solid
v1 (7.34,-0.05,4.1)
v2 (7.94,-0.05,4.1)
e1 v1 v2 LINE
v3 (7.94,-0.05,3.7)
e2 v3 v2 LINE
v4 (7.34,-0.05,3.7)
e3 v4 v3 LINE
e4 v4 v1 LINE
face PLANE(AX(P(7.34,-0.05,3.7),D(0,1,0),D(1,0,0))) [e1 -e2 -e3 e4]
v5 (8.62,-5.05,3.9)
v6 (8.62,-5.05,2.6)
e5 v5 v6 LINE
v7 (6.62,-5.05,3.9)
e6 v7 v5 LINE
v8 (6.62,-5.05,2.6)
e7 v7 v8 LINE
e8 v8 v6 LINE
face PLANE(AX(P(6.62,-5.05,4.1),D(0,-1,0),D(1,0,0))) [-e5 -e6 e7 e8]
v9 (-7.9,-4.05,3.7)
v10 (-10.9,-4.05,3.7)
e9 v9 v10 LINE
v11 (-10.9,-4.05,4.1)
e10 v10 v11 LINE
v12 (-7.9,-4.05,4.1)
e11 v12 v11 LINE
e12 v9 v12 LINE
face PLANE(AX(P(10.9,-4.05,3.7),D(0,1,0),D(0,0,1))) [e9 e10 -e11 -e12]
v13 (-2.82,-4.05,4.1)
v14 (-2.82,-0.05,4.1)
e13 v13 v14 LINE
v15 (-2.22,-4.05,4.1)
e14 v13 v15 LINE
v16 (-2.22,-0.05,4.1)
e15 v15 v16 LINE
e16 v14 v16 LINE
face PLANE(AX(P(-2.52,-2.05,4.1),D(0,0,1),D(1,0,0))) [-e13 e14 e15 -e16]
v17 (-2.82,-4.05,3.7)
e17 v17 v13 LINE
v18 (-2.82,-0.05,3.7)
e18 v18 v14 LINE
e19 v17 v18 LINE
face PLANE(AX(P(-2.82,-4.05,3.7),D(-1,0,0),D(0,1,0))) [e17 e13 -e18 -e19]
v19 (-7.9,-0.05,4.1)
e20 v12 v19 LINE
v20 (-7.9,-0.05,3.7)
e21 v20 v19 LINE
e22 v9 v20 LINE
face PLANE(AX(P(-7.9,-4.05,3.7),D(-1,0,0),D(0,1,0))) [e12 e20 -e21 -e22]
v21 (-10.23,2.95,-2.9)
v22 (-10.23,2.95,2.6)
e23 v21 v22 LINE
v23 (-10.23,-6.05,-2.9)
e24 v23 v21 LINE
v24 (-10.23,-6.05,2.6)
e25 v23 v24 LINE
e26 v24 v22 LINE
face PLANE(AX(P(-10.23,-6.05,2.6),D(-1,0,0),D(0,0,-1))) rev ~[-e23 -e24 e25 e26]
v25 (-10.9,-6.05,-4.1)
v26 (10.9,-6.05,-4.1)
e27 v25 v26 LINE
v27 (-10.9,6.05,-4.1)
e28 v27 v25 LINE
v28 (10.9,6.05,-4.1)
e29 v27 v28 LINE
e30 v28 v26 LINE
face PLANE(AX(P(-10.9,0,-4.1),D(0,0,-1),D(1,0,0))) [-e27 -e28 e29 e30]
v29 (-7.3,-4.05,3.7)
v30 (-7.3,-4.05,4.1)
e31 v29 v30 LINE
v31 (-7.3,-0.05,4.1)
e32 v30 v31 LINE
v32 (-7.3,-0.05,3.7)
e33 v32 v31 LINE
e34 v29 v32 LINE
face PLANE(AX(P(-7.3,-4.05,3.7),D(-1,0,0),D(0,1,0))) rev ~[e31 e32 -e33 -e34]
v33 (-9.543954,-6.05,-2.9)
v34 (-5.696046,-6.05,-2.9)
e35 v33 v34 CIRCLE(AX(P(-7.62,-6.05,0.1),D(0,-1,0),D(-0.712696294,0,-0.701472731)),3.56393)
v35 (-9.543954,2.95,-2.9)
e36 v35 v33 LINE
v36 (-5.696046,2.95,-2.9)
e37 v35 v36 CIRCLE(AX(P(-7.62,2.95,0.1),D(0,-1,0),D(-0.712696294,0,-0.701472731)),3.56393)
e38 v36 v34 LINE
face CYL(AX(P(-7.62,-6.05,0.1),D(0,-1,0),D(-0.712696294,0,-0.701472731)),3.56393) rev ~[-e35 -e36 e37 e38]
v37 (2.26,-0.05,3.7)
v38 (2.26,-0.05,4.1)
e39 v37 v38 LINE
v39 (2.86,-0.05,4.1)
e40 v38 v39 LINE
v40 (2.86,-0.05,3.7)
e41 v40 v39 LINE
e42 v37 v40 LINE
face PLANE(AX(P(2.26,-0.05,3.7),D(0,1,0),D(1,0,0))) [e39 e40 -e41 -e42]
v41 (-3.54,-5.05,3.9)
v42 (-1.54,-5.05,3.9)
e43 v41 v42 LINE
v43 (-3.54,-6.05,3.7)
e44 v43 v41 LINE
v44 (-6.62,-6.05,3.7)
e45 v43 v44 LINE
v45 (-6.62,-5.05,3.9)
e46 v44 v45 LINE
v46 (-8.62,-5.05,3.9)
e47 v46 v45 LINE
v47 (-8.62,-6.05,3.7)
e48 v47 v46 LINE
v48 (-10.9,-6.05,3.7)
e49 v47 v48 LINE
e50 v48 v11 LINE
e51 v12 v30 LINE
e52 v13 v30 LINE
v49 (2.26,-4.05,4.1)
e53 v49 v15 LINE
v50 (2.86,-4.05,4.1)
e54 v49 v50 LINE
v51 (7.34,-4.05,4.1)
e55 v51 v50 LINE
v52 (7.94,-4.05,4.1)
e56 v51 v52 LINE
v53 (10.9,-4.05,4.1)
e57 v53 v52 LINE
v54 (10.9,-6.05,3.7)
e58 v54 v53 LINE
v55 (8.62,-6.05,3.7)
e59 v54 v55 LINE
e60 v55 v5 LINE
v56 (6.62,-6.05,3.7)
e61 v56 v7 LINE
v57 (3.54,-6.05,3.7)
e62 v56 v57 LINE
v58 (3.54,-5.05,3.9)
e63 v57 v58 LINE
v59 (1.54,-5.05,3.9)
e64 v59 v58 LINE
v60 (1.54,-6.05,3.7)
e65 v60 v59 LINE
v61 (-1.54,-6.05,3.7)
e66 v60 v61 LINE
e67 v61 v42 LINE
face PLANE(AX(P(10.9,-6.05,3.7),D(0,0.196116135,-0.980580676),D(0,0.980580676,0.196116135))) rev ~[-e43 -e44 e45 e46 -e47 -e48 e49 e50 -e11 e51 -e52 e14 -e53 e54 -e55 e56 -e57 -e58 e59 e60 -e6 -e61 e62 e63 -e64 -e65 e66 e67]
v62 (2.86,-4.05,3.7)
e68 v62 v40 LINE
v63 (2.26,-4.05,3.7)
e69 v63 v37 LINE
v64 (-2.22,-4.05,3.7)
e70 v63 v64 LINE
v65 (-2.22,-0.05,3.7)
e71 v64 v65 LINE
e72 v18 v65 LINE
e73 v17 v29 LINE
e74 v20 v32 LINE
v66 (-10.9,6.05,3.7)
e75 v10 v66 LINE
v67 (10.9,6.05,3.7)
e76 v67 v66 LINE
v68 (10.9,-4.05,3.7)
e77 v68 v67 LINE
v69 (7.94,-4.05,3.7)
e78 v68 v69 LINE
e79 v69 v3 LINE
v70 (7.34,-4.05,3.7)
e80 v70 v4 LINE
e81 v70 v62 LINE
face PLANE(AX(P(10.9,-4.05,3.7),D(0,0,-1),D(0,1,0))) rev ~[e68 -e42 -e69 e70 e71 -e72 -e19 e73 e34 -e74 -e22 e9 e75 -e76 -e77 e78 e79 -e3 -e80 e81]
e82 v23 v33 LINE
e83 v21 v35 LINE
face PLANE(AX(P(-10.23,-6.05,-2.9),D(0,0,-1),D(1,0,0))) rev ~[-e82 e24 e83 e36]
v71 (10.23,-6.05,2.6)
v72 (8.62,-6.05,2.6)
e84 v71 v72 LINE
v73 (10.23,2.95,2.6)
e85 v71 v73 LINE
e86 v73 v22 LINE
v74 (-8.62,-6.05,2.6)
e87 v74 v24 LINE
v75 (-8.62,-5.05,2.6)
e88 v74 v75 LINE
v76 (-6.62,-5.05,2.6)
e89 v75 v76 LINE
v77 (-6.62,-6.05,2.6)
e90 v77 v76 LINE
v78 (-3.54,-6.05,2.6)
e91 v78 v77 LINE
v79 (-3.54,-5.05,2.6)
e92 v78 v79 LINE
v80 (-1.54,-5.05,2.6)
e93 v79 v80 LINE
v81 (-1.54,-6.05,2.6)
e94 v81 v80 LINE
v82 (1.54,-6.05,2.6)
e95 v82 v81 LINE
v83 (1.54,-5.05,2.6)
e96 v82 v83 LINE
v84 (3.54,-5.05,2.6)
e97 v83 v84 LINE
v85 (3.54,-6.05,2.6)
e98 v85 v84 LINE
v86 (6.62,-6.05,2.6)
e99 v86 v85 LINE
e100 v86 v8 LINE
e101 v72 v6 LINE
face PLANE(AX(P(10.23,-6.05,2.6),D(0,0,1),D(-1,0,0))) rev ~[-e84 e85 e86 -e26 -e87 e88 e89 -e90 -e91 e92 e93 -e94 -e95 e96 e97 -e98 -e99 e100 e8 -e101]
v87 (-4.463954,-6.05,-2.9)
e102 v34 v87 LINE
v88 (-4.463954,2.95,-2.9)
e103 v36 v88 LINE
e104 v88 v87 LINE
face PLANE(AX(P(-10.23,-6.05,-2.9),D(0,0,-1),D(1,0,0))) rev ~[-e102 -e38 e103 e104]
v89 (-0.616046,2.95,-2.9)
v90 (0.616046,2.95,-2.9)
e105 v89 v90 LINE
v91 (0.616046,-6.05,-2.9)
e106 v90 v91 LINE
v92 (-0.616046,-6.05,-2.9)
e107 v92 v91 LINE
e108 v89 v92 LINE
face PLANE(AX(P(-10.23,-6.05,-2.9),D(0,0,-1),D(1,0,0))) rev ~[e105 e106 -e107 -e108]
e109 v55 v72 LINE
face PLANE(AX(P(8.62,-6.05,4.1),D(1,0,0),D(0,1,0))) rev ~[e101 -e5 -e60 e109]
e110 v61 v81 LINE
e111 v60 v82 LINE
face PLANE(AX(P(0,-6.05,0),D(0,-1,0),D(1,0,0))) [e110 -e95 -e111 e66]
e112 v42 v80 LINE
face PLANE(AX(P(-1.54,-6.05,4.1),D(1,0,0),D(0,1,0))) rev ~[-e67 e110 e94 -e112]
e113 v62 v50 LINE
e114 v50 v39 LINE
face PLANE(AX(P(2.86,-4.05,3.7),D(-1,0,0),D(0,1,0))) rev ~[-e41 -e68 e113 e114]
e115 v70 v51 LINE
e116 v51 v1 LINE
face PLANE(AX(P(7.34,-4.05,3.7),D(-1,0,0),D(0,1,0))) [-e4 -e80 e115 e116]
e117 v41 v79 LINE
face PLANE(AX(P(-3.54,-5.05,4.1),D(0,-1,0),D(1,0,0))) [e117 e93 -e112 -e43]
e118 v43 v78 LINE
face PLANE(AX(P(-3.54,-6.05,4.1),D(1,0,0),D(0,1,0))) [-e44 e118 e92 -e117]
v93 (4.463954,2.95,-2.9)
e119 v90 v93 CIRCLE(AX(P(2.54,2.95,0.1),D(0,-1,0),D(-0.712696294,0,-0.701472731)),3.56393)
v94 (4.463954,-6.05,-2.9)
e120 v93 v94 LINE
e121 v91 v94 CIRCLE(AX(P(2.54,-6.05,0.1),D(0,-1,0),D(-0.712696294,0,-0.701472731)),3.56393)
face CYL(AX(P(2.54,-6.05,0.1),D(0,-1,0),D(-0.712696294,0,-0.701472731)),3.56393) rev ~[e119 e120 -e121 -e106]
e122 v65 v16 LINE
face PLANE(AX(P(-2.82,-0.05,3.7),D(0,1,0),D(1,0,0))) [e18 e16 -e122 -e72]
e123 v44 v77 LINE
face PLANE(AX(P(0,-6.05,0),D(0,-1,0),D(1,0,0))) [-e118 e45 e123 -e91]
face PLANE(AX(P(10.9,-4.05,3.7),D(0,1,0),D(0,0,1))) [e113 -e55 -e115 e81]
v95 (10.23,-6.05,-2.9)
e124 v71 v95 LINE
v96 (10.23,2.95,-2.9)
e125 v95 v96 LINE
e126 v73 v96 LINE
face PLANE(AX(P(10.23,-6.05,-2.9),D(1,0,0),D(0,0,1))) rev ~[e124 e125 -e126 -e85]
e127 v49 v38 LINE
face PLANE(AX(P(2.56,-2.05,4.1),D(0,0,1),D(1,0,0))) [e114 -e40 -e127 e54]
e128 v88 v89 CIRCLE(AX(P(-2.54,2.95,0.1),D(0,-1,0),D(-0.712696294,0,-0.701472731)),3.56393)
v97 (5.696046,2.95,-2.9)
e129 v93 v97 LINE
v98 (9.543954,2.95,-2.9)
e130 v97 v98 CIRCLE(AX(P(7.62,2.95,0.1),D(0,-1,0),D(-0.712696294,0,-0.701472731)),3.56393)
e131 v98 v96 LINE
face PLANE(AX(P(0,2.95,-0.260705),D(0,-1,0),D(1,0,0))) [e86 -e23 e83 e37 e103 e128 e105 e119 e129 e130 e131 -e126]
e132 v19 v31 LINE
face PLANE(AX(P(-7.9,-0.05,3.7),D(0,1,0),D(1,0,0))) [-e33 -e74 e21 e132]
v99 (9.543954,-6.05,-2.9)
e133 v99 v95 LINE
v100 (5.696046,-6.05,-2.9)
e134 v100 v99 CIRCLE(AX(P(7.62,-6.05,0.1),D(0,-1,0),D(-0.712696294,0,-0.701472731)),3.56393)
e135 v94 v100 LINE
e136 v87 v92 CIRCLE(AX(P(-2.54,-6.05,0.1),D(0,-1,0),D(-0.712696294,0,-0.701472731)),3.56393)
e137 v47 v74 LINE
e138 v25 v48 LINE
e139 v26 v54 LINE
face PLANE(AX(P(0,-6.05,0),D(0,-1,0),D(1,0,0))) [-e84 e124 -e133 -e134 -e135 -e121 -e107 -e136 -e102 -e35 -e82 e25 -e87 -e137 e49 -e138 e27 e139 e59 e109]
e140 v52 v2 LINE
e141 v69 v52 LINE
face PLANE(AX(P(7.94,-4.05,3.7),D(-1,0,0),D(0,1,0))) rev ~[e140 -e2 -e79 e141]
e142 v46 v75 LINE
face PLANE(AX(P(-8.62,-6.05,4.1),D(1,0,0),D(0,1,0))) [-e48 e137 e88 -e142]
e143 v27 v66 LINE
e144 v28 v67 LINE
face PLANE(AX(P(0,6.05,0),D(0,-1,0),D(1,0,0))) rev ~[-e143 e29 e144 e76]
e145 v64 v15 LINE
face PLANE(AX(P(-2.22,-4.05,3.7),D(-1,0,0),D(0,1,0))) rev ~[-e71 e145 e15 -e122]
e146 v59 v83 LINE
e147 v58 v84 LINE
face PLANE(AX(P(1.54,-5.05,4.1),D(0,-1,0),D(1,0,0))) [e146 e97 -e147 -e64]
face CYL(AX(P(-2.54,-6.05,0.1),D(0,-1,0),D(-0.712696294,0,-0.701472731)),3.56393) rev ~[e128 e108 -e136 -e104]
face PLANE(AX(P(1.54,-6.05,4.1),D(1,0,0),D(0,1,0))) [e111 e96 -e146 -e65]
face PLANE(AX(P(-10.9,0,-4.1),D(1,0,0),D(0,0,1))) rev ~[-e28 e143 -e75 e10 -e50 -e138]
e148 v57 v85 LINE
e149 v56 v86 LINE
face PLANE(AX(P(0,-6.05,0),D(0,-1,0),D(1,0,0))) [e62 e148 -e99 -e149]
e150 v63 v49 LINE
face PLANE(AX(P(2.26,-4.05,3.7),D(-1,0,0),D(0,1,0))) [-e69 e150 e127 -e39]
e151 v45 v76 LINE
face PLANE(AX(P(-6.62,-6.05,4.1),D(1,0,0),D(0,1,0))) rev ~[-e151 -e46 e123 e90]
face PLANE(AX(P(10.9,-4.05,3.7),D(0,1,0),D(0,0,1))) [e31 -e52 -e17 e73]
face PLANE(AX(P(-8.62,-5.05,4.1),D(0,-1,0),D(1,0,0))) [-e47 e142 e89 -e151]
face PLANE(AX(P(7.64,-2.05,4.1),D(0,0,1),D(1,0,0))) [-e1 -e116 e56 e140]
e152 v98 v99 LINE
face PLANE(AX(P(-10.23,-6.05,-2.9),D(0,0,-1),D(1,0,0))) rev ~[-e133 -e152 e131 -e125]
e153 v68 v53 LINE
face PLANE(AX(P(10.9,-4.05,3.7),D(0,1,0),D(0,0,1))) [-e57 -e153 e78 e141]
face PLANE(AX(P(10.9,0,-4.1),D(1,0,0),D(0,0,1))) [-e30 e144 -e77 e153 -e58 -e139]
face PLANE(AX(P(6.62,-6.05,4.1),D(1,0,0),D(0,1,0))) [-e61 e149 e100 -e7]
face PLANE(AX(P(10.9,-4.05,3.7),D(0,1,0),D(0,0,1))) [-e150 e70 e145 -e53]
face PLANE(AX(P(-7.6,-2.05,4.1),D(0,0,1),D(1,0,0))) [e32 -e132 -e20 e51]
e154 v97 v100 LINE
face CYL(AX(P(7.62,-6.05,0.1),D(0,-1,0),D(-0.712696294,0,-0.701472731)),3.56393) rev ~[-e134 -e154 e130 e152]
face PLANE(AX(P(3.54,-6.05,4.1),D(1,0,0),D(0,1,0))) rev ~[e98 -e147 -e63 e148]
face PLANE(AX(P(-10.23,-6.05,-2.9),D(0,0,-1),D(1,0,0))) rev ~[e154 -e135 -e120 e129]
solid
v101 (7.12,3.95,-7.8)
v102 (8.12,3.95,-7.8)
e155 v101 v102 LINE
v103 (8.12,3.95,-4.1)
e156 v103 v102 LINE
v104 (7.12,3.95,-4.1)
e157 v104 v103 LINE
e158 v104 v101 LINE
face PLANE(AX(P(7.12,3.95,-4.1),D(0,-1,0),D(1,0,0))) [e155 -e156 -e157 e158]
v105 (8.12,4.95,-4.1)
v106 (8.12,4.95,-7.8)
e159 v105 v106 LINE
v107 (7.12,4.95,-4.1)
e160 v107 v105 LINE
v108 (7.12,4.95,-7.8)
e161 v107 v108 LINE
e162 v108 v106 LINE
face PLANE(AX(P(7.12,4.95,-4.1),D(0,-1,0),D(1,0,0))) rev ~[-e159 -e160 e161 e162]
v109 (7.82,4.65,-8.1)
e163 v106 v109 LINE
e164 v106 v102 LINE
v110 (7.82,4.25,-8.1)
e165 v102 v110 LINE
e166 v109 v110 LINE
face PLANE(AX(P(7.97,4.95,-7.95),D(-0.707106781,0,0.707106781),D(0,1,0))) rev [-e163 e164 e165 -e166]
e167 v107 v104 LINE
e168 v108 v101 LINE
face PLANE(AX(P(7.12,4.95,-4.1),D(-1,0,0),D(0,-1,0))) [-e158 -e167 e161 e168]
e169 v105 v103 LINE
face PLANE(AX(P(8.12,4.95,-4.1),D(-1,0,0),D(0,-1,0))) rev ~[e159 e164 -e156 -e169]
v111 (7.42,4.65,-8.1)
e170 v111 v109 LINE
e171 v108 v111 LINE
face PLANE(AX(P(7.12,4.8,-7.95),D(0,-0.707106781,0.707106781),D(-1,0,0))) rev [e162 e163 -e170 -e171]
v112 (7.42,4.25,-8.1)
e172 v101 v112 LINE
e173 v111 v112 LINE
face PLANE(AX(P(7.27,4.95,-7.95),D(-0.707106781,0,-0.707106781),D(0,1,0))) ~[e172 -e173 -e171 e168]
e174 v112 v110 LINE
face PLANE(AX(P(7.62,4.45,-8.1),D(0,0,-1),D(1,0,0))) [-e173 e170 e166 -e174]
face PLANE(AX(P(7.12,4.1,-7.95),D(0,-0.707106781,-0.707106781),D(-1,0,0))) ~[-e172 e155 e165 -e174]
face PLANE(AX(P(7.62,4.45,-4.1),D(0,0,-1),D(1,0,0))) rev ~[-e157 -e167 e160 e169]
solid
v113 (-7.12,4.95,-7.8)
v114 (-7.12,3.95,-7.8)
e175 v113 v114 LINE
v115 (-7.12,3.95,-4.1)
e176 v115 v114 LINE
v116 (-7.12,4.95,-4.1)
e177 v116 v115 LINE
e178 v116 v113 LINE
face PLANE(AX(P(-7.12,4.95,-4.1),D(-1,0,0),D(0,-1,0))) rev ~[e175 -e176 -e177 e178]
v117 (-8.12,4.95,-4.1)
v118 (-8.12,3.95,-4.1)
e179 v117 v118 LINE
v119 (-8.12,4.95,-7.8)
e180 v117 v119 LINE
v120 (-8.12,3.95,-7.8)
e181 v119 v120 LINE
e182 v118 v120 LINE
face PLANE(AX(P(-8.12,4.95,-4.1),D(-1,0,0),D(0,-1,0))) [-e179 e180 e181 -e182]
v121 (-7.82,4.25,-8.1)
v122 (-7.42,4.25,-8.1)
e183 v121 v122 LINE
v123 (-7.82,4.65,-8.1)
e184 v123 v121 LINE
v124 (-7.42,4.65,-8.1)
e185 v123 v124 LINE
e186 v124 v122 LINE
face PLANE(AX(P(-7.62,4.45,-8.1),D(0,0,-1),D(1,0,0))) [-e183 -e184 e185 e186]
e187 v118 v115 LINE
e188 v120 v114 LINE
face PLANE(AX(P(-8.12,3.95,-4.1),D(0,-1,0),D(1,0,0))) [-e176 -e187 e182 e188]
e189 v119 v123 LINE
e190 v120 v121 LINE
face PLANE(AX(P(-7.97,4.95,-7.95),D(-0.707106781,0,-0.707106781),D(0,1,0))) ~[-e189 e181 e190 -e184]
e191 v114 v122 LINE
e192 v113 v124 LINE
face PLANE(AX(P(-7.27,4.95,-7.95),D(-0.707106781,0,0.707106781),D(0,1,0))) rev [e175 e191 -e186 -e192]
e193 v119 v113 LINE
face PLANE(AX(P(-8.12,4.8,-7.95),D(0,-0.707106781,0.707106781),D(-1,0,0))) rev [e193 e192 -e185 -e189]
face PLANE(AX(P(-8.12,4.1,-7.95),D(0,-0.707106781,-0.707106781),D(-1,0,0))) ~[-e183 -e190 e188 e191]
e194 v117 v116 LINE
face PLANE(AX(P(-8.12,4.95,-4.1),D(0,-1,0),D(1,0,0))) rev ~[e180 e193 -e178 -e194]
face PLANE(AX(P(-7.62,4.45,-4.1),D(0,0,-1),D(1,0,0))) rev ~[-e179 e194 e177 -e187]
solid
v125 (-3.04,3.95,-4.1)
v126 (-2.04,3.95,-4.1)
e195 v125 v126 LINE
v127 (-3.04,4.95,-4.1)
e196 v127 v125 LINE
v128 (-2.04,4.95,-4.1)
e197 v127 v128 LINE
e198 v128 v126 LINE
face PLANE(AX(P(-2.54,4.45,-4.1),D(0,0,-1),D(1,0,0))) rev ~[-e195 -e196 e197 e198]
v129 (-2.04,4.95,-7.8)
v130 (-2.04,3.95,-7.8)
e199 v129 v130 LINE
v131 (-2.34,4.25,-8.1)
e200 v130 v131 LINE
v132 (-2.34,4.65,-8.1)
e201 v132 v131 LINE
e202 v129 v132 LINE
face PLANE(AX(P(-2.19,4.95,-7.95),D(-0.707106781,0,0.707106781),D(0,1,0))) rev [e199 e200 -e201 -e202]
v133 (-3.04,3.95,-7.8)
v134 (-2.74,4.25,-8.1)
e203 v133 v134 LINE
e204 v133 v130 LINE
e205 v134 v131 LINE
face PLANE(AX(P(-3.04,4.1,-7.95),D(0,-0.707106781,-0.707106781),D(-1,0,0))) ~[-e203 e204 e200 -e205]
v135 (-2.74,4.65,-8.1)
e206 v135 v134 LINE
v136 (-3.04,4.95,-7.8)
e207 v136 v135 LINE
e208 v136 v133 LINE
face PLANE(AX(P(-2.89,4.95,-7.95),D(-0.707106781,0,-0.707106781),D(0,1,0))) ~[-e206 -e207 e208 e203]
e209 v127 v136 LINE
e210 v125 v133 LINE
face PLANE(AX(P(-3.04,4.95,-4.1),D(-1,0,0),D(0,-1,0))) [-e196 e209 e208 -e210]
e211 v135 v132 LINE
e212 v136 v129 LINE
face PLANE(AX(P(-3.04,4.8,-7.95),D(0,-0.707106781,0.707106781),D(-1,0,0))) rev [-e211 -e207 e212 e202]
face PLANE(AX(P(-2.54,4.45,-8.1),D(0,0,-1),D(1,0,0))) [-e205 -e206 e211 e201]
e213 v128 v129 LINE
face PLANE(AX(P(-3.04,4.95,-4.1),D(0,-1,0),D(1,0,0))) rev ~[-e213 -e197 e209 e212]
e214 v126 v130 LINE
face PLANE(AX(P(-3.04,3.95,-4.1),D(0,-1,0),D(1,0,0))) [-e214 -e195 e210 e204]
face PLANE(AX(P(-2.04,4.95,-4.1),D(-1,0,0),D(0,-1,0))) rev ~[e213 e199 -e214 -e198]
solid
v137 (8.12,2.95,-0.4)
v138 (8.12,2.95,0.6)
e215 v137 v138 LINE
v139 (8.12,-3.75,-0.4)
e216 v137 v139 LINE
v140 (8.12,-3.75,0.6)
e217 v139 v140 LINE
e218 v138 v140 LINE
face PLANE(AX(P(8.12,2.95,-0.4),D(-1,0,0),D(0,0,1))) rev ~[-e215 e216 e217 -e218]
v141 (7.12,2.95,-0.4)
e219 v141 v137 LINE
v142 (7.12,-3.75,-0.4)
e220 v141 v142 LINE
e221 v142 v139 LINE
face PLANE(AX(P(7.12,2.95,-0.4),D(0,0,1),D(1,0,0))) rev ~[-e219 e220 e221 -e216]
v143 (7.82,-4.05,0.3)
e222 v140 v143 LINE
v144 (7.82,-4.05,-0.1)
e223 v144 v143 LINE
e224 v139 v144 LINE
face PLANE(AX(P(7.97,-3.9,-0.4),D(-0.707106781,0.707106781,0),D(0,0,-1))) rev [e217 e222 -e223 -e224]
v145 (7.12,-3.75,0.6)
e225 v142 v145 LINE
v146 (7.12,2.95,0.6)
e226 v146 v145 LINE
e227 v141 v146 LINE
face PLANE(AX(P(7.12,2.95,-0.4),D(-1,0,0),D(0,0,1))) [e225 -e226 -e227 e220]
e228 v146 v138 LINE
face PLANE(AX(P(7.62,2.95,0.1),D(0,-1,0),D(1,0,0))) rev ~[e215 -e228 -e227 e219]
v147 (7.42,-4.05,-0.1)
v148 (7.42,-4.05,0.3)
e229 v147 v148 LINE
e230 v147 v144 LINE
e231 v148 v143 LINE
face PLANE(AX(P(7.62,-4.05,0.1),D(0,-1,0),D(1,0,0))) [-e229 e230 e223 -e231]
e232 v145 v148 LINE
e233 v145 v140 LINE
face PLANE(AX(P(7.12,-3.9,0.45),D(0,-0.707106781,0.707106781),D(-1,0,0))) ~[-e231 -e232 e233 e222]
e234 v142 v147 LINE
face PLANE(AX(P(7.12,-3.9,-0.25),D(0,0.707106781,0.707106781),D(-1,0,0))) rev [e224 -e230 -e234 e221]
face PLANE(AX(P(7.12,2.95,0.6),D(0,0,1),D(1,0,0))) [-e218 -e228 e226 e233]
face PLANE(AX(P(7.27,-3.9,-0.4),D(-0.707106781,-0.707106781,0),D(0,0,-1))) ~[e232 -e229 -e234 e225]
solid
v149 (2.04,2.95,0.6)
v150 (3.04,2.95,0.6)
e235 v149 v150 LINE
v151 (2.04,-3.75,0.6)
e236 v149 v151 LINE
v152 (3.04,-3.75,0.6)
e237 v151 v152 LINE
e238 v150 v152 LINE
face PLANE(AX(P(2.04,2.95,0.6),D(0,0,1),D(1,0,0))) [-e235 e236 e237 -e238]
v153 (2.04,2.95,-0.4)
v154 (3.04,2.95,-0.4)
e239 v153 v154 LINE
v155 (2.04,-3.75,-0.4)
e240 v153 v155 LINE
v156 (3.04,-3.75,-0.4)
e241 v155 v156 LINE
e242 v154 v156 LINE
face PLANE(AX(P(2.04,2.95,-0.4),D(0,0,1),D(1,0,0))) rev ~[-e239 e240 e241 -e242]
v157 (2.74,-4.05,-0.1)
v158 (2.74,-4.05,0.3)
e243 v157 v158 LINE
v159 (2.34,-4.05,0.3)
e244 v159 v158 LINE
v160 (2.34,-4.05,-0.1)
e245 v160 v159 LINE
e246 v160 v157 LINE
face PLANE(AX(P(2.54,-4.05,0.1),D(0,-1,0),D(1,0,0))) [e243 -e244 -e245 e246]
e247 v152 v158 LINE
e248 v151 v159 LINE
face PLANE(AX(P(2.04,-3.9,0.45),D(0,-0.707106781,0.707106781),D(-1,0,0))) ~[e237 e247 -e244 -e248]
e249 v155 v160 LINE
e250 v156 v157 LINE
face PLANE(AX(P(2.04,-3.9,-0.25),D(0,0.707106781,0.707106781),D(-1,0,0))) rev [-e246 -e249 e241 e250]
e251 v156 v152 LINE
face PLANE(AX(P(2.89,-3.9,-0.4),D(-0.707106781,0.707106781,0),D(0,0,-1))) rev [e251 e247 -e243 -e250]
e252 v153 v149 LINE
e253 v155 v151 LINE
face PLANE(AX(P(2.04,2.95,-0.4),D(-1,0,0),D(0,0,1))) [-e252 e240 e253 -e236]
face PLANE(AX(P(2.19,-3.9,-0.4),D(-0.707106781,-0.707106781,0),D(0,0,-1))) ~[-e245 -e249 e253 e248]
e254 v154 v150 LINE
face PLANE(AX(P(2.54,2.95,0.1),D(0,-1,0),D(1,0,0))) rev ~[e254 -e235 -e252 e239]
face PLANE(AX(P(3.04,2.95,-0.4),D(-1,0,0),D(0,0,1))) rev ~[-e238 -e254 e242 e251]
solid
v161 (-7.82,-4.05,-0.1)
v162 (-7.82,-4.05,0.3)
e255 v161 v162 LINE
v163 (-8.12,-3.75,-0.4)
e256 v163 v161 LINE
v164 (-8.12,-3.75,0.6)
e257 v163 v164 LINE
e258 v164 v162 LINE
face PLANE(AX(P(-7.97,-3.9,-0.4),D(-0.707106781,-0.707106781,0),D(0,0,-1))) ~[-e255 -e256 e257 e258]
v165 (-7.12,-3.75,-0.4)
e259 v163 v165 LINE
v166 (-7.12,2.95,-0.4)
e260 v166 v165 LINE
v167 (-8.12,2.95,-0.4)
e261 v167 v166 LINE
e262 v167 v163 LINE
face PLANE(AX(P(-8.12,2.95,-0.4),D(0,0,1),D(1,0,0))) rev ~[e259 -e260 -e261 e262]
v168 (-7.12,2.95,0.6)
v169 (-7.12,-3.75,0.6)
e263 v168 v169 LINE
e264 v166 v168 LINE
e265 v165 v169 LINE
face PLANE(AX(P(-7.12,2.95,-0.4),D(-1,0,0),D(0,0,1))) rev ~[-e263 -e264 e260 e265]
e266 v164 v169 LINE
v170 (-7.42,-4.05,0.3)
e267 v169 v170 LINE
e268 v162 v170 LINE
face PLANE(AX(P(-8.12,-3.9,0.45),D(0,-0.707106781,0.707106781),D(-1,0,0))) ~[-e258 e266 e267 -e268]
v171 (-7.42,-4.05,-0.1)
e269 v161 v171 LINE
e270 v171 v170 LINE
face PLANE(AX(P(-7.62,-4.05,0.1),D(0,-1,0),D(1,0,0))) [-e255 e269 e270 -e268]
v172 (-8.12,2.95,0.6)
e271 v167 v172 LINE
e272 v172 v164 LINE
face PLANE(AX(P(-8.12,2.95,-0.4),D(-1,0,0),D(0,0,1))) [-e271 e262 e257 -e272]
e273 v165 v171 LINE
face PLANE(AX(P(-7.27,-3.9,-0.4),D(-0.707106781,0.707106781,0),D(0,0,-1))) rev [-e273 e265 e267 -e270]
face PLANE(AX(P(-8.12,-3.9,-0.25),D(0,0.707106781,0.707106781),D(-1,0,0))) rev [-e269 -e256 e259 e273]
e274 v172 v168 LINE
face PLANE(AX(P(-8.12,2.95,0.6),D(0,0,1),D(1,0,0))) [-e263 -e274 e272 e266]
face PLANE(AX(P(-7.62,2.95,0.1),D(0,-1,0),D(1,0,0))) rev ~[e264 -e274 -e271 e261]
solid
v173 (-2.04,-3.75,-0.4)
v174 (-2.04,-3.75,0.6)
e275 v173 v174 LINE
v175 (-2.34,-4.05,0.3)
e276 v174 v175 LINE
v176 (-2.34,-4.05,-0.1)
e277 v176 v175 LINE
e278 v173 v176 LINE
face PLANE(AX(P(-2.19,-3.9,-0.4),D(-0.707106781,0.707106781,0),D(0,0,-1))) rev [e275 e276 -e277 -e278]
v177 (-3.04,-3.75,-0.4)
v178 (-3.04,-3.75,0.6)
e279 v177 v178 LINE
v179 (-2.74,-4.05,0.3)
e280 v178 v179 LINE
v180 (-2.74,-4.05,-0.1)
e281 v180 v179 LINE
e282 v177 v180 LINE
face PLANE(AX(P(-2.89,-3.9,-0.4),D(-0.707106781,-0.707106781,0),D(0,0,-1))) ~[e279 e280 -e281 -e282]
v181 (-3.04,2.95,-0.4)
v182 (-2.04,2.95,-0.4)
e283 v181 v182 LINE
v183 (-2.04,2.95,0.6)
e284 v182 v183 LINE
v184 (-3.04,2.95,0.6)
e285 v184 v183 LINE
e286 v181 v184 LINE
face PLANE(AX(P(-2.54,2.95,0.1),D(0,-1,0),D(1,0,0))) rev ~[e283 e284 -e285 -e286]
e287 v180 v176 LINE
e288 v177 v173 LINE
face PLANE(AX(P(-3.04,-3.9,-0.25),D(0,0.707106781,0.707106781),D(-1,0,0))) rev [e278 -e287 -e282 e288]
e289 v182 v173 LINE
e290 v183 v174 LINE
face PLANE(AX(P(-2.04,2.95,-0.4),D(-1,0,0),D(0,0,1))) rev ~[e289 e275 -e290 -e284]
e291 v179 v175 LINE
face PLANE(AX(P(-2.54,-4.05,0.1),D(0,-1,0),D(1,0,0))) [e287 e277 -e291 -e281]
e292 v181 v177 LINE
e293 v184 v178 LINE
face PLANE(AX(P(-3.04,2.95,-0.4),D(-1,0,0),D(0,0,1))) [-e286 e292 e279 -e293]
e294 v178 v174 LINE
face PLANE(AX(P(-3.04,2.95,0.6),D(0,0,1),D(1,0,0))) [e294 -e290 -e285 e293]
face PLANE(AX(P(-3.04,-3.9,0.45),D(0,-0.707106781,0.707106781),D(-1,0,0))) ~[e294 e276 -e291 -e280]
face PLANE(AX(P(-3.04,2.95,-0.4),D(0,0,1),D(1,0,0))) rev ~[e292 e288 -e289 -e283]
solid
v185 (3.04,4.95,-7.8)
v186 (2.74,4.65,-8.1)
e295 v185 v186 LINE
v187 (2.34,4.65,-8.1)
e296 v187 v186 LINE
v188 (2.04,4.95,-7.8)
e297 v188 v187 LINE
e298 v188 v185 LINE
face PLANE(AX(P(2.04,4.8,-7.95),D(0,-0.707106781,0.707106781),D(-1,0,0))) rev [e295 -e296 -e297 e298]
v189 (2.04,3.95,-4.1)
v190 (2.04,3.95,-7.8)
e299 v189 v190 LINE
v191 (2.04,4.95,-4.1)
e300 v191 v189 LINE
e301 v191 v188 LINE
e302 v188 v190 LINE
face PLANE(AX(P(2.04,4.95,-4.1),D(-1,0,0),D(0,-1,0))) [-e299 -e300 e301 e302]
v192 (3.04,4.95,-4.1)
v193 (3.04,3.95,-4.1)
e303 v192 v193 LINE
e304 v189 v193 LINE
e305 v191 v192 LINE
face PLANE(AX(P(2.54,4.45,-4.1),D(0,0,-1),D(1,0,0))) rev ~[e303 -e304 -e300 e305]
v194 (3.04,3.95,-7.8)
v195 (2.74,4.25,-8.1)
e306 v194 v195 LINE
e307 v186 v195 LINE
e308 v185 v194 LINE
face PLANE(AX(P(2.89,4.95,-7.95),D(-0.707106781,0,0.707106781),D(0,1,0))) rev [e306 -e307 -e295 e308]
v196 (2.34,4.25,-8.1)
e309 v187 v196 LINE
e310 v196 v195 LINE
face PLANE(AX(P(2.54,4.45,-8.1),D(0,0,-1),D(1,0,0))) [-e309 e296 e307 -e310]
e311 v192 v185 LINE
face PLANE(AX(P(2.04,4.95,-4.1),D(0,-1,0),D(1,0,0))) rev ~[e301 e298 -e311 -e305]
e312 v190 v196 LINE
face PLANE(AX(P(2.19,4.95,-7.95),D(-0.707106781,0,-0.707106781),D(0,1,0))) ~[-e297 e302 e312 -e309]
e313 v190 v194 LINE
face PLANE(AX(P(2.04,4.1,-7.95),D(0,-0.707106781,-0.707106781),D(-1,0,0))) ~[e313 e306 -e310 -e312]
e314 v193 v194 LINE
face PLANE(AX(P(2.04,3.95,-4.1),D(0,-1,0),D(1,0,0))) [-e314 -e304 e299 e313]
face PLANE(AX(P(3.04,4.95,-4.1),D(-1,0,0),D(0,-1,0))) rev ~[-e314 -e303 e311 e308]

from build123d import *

# Parameters (mm, degrees)
F0_W       = 21.8
F0_H       = 8.2
F1_DEPTH   = 6.05
F3_DEPTH   = 9
F4_W       = 1
F4_H       = 1
F5_DEPTH   = 7
F6_W       = 1
F6_H       = 1
F7_DEPTH   = 4
F8_W       = 2
F8_H       = 1
F9_DEPTH   = 2
F10_W      = 20.46
F10_H      = 0.5
F11_DEPTH  = 9
F12_SIZE   = 0.3
F12_2_SIZE = 0.3
F12_3_SIZE = 0.3
F12_4_SIZE = 0.3
F12_5_SIZE = 0.3
F12_6_SIZE = 0.3
F12_7_SIZE = 0.3
F12_8_SIZE = 0.3
F13_W      = 10.1
F13_H      = 0.4
F14_DEPTH  = 21.801
F15_W      = 0.6
F15_H      = 4
F16_DEPTH  = 0.4


with BuildPart() as f1:
    # F0 (on Front) → F1 (new body, symmetric)
    with BuildSketch(Plane.XZ):
        Rectangle(F0_W, F0_H)
    extrude(amount=F1_DEPTH, both=True)

    # F2 (on face) → F3 (cut)
    with BuildSketch(Plane.XZ.offset(6.05)):
        with BuildLine():
            Line((10.23, 2.6), (-10.23, 2.6))
            Line((-10.23, 2.6), (-10.23, -2.4))
            Line((-10.23, -2.4), (-10.16, -2.4))
            ThreePointArc((-10.16, -2.4), (-7.62, -3.4639304146), (-5.08, -2.4))
            ThreePointArc((-5.08, -2.4), (-2.54, -3.4639304146), (0, -2.4))
            ThreePointArc((0, -2.4), (2.54, -3.4639304146), (5.08, -2.4))
            ThreePointArc((5.08, -2.4), (7.62, -3.4639304146), (10.16, -2.4))
            Line((10.16, -2.4), (10.23, -2.4))
            Line((10.23, -2.4), (10.23, 2.6))
        make_face()
    extrude(amount=-F3_DEPTH, mode=Mode.SUBTRACT)

    # F8 (on face) → F9 (cut)
    with BuildSketch(Plane.XY.offset(4.1)):
        with Locations((-2.54, -5.55)):
            Rectangle(F8_W, F8_H)
        with Locations((2.54, -5.55)):
            Rectangle(F8_W, F8_H)
        with Locations((7.62, -5.55)):
            Rectangle(F8_W, F8_H)
        with Locations((-7.62, -5.55)):
            Rectangle(F8_W, F8_H)
    extrude(amount=-F9_DEPTH, mode=Mode.SUBTRACT)

    # F10 (on face) → F11 (cut, through all)
    with BuildSketch(Plane.XZ.offset(6.05)):
        with Locations((0, -2.65)):
            Rectangle(F10_W, F10_H)
    extrude(amount=-F11_DEPTH, mode=Mode.SUBTRACT)

    # F13 (on face) → F14 (cut, through all)
    with BuildSketch(Plane.YZ.offset(10.9)):
        Polygon((-4.05, 4.1), (-6.05, 4.1), (-6.05, 3.7), align=None)
        with Locations((1, 3.9)):
            Rectangle(F13_W, F13_H)
    extrude(amount=-F14_DEPTH, mode=Mode.SUBTRACT)

    # F15 (on face) → F16 (join)
    with BuildSketch(Plane.XY.offset(3.7)):
        with Locations((-7.6, -2.05)):
            Rectangle(F15_W, F15_H)
        with Locations((-2.52, -2.05)):
            Rectangle(F15_W, F15_H)
        with Locations((2.56, -2.05)):
            Rectangle(F15_W, F15_H)
        with Locations((7.64, -2.05)):
            Rectangle(F15_W, F15_H)
    extrude(amount=F16_DEPTH)


with BuildPart() as f5:
    # F4 (on face) → F5 (new body)
    with BuildSketch(Plane.XZ.offset(-2.95)):
        with Locations((-7.62, 0.1)):
            Rectangle(F4_W, F4_H)
    extrude(amount=F5_DEPTH)

    # F12
    f12_edges = [f5.edges().sort_by_distance(p)[0] for p in [
        (-7.62, -4.05, -0.4),
        (-7.12, -4.05, 0.1),
        (-7.62, -4.05, 0.6),
        (-8.12, -4.05, 0.1),
    ]]
    chamfer(f12_edges, length=F12_SIZE)


with BuildPart() as f5b:
    # F4 (on face) → F5, piece 2 (new body)
    with BuildSketch(Plane.XZ.offset(-2.95)):
        with Locations((-2.54, 0.1)):
            Rectangle(F4_W, F4_H)
    extrude(amount=F5_DEPTH)

    # F12#2
    f12_2_edges = [f5b.edges().sort_by_distance(p)[0] for p in [
        (-2.54, -4.05, -0.4),
        (-2.04, -4.05, 0.1),
        (-2.54, -4.05, 0.6),
        (-3.04, -4.05, 0.1),
    ]]
    chamfer(f12_2_edges, length=F12_2_SIZE)


with BuildPart() as f5c:
    # F4 (on face) → F5, piece 3 (new body)
    with BuildSketch(Plane.XZ.offset(-2.95)):
        with Locations((2.54, 0.1)):
            Rectangle(F4_W, F4_H)
    extrude(amount=F5_DEPTH)

    # F12#3
    f12_3_edges = [f5c.edges().sort_by_distance(p)[0] for p in [
        (2.54, -4.05, -0.4),
        (3.04, -4.05, 0.1),
        (2.54, -4.05, 0.6),
        (2.04, -4.05, 0.1),
    ]]
    chamfer(f12_3_edges, length=F12_3_SIZE)


with BuildPart() as f5d:
    # F4 (on face) → F5, piece 4 (new body)
    with BuildSketch(Plane.XZ.offset(-2.95)):
        with Locations((7.62, 0.1)):
            Rectangle(F4_W, F4_H)
    extrude(amount=F5_DEPTH)

    # F12#4
    f12_4_edges = [f5d.edges().sort_by_distance(p)[0] for p in [
        (7.62, -4.05, -0.4),
        (8.12, -4.05, 0.1),
        (7.62, -4.05, 0.6),
        (7.12, -4.05, 0.1),
    ]]
    chamfer(f12_4_edges, length=F12_4_SIZE)


with BuildPart() as f7:
    # F6 (on face) → F7 (new body)
    with BuildSketch(Plane(origin=(0, 0, -4.1), x_dir=(1, 0, 0), z_dir=(0, 0, -1))):
        with Locations((-7.62, -4.45)):
            Rectangle(F6_W, F6_H)
    extrude(amount=F7_DEPTH)

    # F12#5
    f12_5_edges = [f7.edges().sort_by_distance(p)[0] for p in [
        (-7.62, 3.95, -8.1),
        (-8.12, 4.45, -8.1),
        (-7.62, 4.95, -8.1),
        (-7.12, 4.45, -8.1),
    ]]
    chamfer(f12_5_edges, length=F12_5_SIZE)


with BuildPart() as f7b:
    # F6 (on face) → F7, piece 2 (new body)
    with BuildSketch(Plane(origin=(0, 0, -4.1), x_dir=(1, 0, 0), z_dir=(0, 0, -1))):
        with Locations((-2.54, -4.45)):
            Rectangle(F6_W, F6_H)
    extrude(amount=F7_DEPTH)

    # F12#6
    f12_6_edges = [f7b.edges().sort_by_distance(p)[0] for p in [
        (-2.54, 3.95, -8.1),
        (-3.04, 4.45, -8.1),
        (-2.54, 4.95, -8.1),
        (-2.04, 4.45, -8.1),
    ]]
    chamfer(f12_6_edges, length=F12_6_SIZE)


with BuildPart() as f7c:
    # F6 (on face) → F7, piece 3 (new body)
    with BuildSketch(Plane(origin=(0, 0, -4.1), x_dir=(1, 0, 0), z_dir=(0, 0, -1))):
        with Locations((7.62, -4.45)):
            Rectangle(F6_W, F6_H)
    extrude(amount=F7_DEPTH)

    # F12#8
    f12_8_edges = [f7c.edges().sort_by_distance(p)[0] for p in [
        (8.12, 4.45, -8.1),
        (7.62, 3.95, -8.1),
        (7.12, 4.45, -8.1),
        (7.62, 4.95, -8.1),
    ]]
    chamfer(f12_8_edges, length=F12_8_SIZE)


with BuildPart() as f7d:
    # F6 (on face) → F7, piece 4 (new body)
    with BuildSketch(Plane(origin=(0, 0, -4.1), x_dir=(1, 0, 0), z_dir=(0, 0, -1))):
        with Locations((2.54, -4.45)):
            Rectangle(F6_W, F6_H)
    extrude(amount=F7_DEPTH)

    # F12#7
    f12_7_edges = [f7d.edges().sort_by_distance(p)[0] for p in [
        (3.04, 4.45, -8.1),
        (2.54, 3.95, -8.1),
        (2.04, 4.45, -8.1),
        (2.54, 4.95, -8.1),
    ]]
    chamfer(f12_7_edges, length=F12_7_SIZE)


solid = Compound([f1.part, f5.part, f5b.part, f5c.part, f5d.part, f7.part, f7b.part, f7c.part, f7d.part])
